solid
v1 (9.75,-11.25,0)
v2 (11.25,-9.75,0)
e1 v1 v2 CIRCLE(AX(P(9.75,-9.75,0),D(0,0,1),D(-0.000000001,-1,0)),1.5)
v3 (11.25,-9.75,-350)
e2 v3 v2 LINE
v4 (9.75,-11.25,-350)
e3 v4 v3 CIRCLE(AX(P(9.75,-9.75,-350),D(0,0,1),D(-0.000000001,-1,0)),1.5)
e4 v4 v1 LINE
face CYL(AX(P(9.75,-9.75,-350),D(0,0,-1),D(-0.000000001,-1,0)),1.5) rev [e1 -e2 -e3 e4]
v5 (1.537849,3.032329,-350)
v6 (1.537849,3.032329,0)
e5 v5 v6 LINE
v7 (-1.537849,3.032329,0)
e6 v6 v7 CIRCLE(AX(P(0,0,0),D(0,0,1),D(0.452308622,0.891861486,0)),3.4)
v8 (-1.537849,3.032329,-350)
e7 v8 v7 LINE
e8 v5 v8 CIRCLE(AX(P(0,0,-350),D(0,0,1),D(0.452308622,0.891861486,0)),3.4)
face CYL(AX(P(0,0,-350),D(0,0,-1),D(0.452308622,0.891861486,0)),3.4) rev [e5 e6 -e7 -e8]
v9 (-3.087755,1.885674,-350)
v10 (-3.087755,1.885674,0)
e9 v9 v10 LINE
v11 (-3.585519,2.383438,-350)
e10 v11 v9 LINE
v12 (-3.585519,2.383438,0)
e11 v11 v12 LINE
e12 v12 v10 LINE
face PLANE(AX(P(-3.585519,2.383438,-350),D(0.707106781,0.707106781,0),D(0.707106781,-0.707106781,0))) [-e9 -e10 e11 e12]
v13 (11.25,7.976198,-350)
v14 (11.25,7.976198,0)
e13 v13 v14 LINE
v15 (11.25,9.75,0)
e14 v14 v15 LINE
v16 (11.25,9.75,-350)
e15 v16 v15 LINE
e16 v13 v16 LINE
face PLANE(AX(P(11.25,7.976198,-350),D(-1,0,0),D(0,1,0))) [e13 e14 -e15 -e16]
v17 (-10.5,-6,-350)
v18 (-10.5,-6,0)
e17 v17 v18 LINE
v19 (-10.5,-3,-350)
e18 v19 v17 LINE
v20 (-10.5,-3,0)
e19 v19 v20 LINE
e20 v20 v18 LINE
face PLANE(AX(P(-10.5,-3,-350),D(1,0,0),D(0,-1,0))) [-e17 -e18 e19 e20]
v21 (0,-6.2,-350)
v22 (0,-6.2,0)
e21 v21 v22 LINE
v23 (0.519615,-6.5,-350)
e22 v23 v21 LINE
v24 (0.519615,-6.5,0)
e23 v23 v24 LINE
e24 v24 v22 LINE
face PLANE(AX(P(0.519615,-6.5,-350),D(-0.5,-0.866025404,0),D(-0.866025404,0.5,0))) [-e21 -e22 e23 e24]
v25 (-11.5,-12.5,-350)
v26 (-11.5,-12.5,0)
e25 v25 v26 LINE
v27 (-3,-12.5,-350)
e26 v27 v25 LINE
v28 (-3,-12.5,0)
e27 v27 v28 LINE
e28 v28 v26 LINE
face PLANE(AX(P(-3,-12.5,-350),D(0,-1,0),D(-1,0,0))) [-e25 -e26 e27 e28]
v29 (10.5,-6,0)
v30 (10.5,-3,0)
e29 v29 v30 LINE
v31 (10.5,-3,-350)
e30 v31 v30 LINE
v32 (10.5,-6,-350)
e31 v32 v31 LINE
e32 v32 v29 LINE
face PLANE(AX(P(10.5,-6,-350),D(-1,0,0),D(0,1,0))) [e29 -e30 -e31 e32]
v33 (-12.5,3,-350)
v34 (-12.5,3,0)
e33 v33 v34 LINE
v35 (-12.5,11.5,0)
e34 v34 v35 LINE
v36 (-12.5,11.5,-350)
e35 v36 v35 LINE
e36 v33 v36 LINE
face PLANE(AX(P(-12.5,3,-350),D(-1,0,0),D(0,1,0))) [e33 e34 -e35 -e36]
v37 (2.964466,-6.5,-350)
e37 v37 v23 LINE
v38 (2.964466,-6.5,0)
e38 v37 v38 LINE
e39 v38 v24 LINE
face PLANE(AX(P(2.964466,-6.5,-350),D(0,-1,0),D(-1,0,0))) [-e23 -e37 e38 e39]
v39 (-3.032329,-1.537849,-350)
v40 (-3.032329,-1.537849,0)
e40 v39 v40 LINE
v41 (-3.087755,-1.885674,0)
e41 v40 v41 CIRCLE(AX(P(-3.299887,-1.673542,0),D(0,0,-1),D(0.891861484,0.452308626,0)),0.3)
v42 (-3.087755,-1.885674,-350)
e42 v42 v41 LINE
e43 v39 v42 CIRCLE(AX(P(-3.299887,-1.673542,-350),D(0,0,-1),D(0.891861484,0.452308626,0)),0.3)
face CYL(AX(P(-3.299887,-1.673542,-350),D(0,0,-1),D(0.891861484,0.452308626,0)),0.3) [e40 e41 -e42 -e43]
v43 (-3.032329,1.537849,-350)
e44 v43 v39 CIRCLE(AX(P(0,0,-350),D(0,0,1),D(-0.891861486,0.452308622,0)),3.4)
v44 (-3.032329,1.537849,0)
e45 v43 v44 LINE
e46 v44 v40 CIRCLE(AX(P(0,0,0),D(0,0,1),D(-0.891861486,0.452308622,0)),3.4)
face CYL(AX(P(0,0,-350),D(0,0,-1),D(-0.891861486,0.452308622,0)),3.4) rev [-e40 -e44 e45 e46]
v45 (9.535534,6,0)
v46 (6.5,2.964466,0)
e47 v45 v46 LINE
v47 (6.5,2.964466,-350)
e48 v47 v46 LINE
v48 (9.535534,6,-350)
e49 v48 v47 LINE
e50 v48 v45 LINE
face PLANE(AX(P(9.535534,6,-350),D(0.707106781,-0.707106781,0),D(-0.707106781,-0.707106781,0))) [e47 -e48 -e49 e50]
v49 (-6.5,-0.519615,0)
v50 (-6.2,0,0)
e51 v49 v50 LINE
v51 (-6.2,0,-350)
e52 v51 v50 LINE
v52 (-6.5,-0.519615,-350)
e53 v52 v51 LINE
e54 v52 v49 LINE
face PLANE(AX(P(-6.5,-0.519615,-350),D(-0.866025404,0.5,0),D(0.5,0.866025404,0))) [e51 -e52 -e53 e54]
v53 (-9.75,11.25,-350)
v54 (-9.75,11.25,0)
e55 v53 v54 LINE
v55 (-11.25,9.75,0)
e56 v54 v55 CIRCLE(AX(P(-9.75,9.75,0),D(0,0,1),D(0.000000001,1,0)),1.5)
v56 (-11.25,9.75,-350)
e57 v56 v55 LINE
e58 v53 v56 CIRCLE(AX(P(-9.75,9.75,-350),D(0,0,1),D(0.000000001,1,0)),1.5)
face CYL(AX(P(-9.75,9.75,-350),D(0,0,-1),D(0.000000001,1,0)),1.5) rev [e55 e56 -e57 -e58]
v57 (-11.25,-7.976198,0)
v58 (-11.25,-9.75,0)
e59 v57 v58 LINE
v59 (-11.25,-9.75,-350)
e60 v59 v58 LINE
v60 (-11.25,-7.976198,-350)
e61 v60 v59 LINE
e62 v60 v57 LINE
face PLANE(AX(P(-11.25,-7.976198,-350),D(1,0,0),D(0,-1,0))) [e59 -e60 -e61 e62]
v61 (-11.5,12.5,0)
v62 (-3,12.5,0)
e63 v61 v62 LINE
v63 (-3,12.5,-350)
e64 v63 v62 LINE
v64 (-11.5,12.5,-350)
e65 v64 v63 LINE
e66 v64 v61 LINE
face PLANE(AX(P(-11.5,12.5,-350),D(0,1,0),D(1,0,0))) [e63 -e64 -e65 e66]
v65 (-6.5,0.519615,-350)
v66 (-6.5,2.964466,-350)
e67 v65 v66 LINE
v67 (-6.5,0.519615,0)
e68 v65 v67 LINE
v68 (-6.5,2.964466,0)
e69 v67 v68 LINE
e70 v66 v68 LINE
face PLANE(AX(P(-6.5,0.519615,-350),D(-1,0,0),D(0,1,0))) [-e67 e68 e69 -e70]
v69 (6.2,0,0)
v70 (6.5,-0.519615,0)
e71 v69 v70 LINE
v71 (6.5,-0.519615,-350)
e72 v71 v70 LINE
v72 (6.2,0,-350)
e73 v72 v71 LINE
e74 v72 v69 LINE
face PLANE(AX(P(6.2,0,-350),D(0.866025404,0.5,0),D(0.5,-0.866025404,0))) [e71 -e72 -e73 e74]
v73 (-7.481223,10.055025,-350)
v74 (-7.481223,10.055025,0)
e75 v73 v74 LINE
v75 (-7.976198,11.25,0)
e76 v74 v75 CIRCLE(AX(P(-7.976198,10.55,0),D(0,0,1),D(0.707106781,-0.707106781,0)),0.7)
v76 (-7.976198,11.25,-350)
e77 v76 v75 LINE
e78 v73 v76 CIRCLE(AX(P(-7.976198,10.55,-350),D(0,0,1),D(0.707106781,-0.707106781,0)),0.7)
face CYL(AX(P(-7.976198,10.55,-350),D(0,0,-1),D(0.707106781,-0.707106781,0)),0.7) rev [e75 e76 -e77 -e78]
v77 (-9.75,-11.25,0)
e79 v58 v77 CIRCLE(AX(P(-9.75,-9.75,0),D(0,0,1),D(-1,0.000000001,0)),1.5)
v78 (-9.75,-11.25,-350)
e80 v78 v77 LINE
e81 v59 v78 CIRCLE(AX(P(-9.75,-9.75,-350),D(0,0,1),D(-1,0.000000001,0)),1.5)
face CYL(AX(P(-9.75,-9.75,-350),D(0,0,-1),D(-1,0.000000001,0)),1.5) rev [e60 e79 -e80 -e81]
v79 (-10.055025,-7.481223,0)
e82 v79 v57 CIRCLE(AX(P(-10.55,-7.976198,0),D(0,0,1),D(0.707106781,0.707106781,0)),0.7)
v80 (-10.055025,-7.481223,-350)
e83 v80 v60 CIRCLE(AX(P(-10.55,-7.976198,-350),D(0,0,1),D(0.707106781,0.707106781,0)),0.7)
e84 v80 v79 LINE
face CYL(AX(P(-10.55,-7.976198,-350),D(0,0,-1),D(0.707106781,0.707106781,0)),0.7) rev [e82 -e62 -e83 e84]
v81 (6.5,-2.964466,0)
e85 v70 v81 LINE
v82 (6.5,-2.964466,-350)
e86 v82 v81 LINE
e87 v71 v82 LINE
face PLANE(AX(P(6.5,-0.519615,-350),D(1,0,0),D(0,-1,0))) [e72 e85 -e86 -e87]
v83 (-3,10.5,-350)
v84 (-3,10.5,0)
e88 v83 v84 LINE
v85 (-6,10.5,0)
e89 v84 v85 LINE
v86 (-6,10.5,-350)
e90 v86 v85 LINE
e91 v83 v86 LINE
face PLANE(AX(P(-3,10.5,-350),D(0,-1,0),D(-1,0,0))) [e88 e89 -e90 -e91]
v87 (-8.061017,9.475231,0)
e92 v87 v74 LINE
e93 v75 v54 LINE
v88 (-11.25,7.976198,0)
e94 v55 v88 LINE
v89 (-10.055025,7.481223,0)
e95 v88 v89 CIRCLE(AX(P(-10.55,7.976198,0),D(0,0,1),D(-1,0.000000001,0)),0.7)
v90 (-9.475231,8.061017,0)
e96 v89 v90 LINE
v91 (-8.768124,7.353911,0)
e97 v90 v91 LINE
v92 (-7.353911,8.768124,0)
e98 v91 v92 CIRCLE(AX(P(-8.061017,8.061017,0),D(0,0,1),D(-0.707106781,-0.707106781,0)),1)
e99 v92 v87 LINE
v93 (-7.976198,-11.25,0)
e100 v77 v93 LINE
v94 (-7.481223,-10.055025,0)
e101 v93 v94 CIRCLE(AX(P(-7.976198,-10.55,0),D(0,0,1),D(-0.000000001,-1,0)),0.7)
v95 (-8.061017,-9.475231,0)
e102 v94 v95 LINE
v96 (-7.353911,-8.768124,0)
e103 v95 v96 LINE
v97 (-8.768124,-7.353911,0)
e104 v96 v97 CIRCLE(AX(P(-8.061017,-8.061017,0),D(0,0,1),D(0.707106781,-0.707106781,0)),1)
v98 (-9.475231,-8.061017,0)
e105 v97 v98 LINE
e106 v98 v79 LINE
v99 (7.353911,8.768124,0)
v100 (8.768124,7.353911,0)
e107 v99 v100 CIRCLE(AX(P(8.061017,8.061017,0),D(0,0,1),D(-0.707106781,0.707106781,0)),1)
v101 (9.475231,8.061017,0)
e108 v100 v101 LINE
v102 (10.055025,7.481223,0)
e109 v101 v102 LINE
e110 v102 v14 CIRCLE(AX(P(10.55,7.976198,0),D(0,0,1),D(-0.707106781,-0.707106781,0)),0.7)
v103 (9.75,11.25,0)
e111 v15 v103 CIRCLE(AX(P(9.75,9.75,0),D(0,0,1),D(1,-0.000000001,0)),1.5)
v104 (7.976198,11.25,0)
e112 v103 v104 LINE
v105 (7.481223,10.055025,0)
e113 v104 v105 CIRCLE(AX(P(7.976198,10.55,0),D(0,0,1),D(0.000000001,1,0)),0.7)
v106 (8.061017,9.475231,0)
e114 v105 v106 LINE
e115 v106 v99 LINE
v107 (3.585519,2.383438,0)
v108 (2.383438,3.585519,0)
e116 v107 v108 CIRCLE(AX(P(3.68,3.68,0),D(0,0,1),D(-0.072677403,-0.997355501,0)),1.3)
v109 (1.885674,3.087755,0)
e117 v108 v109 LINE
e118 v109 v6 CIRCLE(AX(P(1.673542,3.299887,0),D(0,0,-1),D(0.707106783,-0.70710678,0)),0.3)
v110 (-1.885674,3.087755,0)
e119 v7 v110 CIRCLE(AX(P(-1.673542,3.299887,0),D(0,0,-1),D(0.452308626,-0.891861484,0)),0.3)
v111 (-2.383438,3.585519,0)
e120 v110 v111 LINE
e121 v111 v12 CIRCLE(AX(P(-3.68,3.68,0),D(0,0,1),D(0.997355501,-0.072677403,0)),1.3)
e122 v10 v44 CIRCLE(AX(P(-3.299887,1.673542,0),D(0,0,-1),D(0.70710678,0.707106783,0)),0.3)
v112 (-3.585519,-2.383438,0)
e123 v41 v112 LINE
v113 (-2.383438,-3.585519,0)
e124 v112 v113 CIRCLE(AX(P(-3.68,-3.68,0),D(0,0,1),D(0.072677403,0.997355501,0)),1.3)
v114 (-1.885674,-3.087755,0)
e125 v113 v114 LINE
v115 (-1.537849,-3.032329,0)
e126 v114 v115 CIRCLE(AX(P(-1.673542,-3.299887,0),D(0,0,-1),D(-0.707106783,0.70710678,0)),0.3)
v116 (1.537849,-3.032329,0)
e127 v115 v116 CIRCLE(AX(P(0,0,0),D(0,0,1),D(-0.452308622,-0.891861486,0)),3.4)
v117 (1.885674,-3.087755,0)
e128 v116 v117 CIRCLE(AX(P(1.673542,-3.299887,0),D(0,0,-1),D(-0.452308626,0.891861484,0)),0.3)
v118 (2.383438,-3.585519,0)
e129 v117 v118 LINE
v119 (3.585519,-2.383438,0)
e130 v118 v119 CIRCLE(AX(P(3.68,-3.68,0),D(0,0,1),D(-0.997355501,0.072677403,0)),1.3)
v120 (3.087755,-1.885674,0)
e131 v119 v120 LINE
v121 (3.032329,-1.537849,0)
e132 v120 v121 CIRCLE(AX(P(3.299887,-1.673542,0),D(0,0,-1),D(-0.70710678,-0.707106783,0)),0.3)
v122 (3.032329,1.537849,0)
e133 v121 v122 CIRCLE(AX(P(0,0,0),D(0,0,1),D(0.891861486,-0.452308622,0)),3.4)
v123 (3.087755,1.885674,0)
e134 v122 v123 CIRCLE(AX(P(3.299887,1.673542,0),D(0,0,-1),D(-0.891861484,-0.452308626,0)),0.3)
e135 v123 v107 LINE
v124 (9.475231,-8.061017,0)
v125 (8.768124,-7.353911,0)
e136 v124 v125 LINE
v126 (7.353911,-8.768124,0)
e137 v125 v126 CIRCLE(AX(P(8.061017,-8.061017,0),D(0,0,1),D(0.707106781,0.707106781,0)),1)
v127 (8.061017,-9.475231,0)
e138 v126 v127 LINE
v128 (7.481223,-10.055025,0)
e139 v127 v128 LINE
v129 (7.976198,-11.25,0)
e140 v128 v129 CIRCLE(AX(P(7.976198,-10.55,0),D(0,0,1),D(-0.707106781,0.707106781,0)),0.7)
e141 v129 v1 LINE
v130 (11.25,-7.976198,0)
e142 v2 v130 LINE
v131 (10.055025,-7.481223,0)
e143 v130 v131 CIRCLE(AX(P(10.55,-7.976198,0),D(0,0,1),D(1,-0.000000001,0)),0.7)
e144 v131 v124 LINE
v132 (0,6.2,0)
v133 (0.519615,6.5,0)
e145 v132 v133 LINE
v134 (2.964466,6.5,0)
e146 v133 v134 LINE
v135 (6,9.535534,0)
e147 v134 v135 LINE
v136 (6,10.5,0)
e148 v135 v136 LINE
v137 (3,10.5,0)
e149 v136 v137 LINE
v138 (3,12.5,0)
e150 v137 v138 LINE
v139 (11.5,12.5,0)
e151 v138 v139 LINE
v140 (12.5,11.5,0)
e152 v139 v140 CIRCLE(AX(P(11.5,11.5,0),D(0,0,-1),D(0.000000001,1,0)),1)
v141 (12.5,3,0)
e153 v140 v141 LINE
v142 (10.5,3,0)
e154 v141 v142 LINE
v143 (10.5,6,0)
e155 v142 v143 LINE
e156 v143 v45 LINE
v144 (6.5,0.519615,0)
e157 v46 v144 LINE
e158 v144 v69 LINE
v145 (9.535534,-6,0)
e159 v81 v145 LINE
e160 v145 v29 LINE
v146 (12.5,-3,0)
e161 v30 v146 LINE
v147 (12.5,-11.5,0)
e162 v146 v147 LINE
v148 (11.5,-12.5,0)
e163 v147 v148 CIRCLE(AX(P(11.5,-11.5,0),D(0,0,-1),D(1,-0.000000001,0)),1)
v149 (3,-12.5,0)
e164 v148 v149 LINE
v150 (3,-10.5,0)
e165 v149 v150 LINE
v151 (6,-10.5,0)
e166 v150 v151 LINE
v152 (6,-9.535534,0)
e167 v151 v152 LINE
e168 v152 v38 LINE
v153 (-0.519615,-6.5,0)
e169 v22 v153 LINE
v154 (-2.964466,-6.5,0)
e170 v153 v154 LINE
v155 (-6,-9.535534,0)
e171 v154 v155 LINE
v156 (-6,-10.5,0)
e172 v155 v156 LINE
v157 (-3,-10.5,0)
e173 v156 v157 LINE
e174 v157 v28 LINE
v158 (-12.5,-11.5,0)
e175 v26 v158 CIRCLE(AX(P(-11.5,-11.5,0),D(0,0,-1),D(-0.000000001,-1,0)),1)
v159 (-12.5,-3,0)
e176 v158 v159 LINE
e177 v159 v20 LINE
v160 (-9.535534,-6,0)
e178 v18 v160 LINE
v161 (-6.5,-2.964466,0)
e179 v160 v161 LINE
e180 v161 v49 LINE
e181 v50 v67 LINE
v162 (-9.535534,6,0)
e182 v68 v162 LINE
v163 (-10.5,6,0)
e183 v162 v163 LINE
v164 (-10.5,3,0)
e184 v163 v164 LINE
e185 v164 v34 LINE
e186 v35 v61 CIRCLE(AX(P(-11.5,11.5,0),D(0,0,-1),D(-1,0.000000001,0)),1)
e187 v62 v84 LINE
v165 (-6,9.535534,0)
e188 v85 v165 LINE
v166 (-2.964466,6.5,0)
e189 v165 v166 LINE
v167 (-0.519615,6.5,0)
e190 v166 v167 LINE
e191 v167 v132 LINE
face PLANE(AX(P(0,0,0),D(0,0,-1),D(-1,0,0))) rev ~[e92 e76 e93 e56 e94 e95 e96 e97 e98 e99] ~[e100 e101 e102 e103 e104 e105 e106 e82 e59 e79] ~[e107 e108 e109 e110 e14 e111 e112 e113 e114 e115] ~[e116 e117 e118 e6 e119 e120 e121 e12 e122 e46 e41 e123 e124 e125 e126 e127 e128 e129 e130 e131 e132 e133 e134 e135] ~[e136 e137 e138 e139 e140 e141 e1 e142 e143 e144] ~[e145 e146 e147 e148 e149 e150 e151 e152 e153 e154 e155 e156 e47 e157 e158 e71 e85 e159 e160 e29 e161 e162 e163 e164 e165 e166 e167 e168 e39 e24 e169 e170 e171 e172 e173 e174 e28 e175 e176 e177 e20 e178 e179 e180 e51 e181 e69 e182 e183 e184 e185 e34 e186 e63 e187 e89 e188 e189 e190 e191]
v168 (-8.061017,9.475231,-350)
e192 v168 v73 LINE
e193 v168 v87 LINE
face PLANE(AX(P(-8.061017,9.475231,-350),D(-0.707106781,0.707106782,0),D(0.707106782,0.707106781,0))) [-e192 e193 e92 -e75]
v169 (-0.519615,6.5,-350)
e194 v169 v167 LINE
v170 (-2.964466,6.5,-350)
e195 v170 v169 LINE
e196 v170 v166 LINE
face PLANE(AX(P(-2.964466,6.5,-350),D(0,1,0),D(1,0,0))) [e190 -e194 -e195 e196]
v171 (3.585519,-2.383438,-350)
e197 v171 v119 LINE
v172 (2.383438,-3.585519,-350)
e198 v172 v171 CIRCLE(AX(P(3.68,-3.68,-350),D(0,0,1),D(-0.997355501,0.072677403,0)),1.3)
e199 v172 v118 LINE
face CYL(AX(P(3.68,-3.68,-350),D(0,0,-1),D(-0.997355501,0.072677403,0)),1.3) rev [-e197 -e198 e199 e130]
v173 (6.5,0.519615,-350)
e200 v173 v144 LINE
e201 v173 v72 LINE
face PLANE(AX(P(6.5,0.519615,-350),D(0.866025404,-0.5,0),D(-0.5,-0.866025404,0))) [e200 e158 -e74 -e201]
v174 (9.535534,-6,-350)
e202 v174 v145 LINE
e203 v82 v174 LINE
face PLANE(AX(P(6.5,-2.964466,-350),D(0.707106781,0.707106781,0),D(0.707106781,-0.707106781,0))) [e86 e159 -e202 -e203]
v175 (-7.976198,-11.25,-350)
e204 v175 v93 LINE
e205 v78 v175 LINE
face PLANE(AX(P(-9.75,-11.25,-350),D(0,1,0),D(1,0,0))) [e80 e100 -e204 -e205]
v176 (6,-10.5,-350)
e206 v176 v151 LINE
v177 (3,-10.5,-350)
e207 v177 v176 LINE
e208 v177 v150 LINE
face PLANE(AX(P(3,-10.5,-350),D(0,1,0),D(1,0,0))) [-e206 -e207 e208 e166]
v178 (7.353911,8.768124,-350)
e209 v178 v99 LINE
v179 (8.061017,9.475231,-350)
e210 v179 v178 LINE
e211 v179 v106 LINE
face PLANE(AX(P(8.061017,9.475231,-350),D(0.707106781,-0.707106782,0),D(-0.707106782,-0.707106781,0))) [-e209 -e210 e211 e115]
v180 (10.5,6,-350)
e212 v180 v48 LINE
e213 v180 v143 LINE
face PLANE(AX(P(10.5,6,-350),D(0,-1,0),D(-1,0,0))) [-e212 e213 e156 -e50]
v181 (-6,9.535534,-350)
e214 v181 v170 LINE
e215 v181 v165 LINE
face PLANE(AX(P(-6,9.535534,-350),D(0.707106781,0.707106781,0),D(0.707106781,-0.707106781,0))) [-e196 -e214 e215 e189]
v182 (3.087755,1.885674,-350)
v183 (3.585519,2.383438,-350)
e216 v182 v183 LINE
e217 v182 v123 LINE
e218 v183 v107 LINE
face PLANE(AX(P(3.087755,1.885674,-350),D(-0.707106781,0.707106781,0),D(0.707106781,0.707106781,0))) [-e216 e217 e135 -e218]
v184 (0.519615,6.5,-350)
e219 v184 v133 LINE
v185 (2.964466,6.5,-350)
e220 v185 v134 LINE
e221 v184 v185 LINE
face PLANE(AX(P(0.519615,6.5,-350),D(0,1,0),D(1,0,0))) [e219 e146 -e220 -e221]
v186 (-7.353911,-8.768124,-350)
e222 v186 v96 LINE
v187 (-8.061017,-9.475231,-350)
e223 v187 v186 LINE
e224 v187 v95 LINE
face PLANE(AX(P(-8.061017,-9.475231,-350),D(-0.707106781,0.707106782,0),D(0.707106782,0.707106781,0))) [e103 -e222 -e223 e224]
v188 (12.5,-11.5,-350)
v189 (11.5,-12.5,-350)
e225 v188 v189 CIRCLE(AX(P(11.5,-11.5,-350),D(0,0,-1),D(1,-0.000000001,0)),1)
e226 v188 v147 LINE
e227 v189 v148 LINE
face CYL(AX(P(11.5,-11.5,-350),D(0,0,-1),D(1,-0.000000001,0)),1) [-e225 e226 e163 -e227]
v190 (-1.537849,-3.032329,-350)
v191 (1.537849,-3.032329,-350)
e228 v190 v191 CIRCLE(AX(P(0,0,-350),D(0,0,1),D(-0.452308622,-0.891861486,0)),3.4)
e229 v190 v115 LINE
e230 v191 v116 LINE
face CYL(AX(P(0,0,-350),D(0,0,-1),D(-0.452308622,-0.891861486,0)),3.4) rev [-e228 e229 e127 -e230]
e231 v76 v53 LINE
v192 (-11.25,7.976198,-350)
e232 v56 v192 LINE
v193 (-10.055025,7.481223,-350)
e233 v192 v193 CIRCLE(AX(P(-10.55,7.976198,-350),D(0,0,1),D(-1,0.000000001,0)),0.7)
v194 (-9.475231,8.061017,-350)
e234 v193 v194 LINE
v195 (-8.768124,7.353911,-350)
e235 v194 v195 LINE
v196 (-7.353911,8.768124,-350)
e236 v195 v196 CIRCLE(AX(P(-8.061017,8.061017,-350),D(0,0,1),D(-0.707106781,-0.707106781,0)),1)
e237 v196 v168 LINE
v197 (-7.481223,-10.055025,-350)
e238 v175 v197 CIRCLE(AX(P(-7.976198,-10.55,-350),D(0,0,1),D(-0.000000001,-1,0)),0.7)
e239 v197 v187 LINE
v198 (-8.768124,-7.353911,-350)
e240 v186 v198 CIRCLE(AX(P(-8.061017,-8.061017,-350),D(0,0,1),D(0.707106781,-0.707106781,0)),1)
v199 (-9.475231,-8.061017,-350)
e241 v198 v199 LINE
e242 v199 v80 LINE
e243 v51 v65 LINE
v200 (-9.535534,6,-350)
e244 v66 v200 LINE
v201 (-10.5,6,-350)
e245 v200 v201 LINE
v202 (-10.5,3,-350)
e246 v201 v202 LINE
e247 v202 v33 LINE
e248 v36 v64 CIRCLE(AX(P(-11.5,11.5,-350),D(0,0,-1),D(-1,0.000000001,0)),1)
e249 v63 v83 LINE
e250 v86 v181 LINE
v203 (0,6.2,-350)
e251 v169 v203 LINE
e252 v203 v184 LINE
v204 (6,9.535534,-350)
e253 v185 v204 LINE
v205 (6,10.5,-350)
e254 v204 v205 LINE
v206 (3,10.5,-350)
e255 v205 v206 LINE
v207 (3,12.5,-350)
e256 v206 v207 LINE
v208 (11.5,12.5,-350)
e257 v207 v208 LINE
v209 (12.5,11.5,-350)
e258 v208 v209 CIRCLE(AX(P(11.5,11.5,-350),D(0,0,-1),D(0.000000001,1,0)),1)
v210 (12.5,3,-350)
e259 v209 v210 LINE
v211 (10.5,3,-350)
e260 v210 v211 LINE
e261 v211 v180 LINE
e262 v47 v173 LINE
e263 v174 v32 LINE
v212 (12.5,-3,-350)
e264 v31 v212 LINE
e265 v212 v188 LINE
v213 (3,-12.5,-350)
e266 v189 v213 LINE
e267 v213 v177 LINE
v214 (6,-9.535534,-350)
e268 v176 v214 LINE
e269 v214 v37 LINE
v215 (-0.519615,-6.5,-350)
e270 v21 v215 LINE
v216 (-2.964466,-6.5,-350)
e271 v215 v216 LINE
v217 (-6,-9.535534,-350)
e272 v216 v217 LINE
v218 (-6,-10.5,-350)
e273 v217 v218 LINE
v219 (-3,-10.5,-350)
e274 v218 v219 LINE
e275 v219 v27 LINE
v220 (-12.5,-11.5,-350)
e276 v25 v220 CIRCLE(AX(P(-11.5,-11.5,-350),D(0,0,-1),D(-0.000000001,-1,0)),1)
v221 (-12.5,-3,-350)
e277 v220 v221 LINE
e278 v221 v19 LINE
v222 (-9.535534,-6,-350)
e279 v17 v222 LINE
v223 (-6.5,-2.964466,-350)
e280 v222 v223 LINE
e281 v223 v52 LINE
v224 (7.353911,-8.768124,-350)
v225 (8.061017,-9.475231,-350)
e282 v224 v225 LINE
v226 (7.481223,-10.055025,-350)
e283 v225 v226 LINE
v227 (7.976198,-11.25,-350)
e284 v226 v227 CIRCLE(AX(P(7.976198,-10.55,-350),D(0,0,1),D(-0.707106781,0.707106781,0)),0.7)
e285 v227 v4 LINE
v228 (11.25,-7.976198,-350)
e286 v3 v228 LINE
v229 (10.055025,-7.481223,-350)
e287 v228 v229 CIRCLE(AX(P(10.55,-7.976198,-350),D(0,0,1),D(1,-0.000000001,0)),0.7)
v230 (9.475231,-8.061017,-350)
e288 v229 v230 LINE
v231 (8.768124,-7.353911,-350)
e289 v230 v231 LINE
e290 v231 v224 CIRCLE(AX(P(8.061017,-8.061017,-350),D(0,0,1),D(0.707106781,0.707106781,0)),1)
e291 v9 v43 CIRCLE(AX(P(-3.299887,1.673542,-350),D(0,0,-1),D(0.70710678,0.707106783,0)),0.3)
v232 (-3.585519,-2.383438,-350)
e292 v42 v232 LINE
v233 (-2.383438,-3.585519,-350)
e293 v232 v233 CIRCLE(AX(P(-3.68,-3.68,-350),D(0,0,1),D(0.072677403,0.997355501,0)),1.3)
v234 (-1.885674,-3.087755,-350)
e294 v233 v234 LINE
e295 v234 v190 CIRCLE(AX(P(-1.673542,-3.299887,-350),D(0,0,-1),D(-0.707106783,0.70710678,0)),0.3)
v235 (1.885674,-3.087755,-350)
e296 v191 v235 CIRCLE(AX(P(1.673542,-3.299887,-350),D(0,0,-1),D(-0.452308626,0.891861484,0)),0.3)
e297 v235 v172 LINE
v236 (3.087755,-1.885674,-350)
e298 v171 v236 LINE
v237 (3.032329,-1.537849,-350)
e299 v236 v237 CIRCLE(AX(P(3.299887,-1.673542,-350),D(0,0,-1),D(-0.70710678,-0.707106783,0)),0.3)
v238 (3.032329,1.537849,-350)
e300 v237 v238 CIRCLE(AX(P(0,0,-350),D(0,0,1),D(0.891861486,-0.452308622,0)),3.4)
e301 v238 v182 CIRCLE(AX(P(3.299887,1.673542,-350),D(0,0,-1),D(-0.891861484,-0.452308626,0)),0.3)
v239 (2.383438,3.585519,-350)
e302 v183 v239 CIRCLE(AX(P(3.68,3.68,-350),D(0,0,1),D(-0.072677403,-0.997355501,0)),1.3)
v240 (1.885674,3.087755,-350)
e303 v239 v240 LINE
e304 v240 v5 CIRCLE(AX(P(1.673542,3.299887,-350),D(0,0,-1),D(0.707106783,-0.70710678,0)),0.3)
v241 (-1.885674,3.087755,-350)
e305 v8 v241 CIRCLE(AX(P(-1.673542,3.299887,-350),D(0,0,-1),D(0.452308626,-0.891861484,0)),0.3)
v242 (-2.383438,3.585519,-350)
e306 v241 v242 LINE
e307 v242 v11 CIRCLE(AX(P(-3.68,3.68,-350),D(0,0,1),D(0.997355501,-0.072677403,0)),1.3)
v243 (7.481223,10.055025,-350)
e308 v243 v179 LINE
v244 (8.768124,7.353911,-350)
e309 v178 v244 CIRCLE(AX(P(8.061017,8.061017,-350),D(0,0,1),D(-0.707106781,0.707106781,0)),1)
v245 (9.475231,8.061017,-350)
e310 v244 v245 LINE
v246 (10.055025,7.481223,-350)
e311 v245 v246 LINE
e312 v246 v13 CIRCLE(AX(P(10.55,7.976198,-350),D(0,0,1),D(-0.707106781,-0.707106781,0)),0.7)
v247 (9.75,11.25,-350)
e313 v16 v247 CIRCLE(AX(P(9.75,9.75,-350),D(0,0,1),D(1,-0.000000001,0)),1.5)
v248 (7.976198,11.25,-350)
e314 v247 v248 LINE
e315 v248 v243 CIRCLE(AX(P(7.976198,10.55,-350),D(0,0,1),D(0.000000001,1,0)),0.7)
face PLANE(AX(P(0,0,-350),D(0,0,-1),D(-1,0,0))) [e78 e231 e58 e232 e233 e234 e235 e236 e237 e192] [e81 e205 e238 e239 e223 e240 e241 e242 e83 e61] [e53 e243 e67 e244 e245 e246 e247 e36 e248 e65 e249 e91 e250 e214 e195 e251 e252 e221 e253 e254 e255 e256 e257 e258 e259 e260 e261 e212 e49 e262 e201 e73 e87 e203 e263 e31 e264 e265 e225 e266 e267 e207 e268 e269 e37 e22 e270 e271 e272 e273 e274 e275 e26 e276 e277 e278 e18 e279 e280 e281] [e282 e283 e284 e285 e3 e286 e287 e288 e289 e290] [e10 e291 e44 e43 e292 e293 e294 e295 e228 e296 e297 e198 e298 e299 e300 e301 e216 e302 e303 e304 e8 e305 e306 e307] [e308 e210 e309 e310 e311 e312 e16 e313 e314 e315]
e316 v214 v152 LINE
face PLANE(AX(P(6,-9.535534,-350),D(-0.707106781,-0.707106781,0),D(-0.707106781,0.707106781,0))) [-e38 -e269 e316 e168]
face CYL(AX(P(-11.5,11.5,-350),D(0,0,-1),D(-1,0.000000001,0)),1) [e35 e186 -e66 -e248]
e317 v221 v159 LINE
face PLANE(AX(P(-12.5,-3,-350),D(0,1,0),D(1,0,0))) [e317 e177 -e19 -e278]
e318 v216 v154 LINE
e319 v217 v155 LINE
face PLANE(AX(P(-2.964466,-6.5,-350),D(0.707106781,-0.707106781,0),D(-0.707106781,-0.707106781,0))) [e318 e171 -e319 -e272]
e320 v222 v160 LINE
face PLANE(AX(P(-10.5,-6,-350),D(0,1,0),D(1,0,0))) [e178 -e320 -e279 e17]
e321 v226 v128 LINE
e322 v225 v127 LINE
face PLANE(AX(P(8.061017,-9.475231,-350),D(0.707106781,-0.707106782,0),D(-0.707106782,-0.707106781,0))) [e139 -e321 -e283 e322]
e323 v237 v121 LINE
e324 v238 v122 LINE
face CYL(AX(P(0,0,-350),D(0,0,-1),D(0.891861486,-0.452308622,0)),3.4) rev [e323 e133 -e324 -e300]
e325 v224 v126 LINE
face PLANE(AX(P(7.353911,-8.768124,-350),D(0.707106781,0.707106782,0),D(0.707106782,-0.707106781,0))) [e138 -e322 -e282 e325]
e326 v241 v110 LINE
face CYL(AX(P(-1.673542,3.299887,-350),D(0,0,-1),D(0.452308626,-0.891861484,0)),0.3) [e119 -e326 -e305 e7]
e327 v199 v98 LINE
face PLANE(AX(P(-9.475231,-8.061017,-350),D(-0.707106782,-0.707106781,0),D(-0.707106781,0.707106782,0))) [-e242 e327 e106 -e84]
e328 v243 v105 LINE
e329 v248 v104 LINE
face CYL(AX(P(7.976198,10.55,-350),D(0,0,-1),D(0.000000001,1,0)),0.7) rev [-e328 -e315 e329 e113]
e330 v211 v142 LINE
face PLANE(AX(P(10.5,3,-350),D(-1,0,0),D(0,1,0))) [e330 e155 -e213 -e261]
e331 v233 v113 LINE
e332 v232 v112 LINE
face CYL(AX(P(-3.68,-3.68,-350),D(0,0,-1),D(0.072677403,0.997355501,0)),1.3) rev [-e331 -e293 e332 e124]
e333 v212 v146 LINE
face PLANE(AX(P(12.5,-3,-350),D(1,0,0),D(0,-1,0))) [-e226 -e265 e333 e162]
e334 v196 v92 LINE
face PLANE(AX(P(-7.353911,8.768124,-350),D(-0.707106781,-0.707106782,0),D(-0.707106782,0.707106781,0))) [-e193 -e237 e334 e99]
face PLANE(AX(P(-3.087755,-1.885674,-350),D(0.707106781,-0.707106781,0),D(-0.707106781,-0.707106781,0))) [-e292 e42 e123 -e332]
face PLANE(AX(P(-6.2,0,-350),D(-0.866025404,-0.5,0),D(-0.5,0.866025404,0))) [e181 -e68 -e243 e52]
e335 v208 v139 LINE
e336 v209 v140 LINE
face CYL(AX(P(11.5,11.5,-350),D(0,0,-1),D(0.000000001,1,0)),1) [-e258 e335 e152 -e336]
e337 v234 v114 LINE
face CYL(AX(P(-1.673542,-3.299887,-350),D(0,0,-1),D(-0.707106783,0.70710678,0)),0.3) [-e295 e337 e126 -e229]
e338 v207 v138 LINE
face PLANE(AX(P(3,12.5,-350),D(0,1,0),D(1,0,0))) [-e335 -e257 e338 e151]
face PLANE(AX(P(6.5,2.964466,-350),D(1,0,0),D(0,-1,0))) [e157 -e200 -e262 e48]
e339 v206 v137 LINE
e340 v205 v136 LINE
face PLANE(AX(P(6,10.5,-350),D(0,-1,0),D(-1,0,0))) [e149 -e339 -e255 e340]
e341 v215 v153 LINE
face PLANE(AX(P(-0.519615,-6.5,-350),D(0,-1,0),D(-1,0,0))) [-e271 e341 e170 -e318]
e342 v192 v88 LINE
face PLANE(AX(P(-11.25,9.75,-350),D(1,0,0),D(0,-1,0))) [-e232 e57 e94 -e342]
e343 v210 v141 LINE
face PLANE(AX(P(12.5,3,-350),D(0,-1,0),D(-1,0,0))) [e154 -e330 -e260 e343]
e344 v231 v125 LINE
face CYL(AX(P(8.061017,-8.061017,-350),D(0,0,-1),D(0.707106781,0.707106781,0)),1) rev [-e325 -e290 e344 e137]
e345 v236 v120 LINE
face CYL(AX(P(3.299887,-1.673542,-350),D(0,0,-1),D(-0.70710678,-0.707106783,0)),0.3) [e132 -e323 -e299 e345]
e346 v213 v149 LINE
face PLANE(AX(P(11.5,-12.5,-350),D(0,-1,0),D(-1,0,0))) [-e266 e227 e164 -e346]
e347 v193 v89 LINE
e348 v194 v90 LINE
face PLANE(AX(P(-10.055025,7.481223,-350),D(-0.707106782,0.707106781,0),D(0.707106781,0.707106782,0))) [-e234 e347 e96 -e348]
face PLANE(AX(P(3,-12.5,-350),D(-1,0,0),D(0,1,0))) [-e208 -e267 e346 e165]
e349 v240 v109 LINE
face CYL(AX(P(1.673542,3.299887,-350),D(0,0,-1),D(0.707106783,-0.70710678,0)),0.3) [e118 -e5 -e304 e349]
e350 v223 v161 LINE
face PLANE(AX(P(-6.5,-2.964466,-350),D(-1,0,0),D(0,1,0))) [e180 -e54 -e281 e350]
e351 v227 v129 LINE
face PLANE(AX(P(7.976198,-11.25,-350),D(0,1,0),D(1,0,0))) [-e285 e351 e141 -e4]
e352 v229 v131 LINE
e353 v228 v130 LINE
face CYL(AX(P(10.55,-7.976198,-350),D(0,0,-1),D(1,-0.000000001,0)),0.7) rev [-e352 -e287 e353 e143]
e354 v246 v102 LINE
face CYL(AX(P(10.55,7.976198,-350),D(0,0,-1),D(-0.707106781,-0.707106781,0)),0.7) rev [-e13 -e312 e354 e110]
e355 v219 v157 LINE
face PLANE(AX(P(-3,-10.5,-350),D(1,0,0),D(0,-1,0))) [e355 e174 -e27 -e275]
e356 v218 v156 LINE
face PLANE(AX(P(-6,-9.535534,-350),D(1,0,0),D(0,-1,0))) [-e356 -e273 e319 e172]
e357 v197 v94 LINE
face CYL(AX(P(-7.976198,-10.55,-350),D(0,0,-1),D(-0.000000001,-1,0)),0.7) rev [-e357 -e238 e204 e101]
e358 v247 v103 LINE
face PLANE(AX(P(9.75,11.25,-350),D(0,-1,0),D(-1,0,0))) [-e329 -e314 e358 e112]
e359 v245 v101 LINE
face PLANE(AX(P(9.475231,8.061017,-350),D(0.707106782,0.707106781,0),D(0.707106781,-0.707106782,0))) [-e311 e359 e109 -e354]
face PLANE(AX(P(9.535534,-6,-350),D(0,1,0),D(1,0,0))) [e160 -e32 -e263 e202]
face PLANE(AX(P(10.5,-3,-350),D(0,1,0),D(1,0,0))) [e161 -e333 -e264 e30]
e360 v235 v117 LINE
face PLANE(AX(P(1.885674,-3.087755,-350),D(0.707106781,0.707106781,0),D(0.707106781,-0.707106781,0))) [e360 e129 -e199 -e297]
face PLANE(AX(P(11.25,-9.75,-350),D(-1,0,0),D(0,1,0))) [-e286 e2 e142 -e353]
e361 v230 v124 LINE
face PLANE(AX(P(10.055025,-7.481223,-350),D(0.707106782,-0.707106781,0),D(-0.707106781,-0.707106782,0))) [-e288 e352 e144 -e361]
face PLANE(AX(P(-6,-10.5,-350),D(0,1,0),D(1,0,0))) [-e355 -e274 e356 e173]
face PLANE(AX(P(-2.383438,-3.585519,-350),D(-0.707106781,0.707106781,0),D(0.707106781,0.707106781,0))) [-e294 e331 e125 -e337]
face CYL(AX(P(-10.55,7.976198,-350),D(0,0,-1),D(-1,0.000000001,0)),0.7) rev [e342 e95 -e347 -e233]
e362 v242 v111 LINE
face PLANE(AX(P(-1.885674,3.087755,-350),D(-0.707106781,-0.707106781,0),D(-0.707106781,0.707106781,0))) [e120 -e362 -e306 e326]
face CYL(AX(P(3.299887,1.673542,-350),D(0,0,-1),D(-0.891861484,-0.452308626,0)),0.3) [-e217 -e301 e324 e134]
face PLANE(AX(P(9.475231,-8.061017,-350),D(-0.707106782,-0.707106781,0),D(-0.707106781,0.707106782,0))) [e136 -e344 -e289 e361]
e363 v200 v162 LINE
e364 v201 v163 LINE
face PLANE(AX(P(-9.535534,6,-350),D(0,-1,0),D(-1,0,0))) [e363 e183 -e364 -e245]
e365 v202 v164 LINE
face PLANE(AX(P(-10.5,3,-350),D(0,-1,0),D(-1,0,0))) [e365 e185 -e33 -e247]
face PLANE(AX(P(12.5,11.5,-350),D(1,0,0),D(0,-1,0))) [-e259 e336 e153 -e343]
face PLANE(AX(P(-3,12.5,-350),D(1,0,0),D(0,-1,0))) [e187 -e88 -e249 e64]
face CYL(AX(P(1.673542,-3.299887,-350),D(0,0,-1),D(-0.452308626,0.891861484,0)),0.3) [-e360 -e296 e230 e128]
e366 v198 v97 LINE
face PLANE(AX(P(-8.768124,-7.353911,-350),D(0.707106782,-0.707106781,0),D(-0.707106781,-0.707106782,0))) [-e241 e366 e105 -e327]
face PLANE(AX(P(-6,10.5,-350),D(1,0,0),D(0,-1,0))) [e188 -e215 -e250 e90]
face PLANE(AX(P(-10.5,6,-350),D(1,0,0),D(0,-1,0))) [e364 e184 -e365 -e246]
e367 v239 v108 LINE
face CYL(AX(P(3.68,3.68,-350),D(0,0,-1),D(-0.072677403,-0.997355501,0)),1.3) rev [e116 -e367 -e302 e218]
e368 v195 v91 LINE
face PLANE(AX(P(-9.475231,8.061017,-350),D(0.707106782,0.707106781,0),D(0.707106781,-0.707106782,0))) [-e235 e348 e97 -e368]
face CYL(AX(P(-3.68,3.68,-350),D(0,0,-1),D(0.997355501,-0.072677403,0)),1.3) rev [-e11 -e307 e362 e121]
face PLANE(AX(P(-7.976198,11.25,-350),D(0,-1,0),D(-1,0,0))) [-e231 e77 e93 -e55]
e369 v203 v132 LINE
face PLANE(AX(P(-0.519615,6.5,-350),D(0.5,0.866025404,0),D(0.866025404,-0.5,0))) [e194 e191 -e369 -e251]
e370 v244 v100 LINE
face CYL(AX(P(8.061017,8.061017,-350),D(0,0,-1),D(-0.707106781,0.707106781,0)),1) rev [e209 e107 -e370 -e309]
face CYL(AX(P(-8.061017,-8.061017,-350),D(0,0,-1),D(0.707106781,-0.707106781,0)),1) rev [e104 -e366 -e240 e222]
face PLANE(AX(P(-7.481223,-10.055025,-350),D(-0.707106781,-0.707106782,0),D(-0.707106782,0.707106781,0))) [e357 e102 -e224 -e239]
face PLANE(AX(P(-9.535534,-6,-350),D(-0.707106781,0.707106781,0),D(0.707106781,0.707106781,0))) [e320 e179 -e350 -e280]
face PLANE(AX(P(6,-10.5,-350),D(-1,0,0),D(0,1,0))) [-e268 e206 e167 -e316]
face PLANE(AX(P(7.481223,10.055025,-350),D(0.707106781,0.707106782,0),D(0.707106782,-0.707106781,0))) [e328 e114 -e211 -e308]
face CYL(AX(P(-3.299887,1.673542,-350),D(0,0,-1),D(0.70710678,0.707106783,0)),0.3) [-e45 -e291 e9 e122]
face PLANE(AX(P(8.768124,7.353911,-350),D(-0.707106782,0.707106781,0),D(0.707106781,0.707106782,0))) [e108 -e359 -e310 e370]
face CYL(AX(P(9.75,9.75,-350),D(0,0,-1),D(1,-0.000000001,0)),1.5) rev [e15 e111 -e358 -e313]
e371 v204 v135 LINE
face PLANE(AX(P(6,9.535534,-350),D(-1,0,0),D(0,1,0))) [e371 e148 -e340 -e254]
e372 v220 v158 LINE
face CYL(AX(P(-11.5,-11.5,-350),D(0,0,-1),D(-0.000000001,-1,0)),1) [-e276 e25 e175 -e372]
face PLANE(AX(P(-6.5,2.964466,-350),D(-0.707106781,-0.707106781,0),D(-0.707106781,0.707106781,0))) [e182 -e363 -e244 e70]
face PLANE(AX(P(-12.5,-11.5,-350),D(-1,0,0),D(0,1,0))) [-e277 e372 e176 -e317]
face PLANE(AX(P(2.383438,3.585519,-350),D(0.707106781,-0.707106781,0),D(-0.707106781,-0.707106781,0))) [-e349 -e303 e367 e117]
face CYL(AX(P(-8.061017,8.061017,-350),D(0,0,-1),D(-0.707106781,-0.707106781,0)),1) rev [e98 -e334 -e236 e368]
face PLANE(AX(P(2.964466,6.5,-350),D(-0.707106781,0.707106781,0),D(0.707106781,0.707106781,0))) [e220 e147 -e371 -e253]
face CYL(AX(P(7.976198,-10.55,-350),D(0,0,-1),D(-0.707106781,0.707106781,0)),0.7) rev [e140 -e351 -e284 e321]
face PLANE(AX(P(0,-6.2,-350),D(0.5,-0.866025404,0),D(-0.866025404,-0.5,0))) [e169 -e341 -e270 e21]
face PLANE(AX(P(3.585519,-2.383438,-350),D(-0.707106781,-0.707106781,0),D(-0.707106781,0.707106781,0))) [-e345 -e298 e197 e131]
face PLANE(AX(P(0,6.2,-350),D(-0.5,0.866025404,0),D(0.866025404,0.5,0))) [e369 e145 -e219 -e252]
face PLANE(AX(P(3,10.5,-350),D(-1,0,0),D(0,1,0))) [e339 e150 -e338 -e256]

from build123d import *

# Parameters (mm, degrees)
BOSS_EXTRUDE1_DEPTH = 350


with BuildPart() as part:
    # Sketch1 → Boss-Extrude1 (new body)
    with BuildSketch(Plane(origin=(0, 0, -350), x_dir=(-1, 0, 0), z_dir=(0, 0, -1))):
        with BuildLine():
            Line((12.5, -3), (10.5, -3))
            Line((10.5, -3), (10.5, -6))
            Line((10.5, -6), (9.535533906, -6))
            Line((9.535533906, -6), (6.5, -2.964466094))
            Line((6.5, -2.964466094), (6.5, -0.519615242))
            Line((6.5, -0.519615242), (6.2, 0))
            Line((6.2, 0), (6.5, 0.519615242))
            Line((6.5, 0.519615242), (6.5, 2.964466094))
            Line((6.5, 2.964466094), (9.535533906, 6))
            Line((9.535533906, 6), (10.5, 6))
            Line((10.5, 6), (10.5, 3))
            Line((10.5, 3), (12.5, 3))
            Line((12.5, 3), (12.5, 11.5))
            ThreePointArc((12.5, 11.5), (12.207106781, 12.207106781), (11.5, 12.5))
            Line((11.5, 12.5), (3, 12.5))
            Line((3, 12.5), (3, 10.5))
            Line((3, 10.5), (6, 10.5))
            Line((6, 10.5), (6, 9.535533906))
            Line((6, 9.535533906), (2.964466094, 6.5))
            Line((2.964466094, 6.5), (0.519615242, 6.5))
            Line((0.519615242, 6.5), (0, 6.2))
            Line((0, 6.2), (-0.519615242, 6.5))
            Line((-0.519615242, 6.5), (-2.964466094, 6.5))
            Line((-2.964466094, 6.5), (-6, 9.535533906))
            Line((-6, 9.535533906), (-6, 10.5))
            Line((-6, 10.5), (-3, 10.5))
            Line((-3, 10.5), (-3, 12.5))
            Line((-3, 12.5), (-11.5, 12.5))
            ThreePointArc((-11.5, 12.5), (-12.207106781, 12.207106781), (-12.5, 11.5))
            Line((-12.5, 11.5), (-12.5, 3))
            Line((-12.5, 3), (-10.5, 3))
            Line((-10.5, 3), (-10.5, 6))
            Line((-10.5, 6), (-9.535533906, 6))
            Line((-9.535533906, 6), (-6.5, 2.964466094))
            Line((-6.5, 2.964466094), (-6.5, 0.519615242))
            Line((-6.5, 0.519615242), (-6.2, 0))
            Line((-6.2, 0), (-6.5, -0.519615242))
            Line((-6.5, -0.519615242), (-6.5, -2.964466094))
            Line((-6.5, -2.964466094), (-9.535533906, -6))
            Line((-9.535533906, -6), (-10.5, -6))
            Line((-10.5, -6), (-10.5, -3))
            Line((-10.5, -3), (-12.5, -3))
            Line((-12.5, -3), (-12.5, -11.5))
            ThreePointArc((-12.5, -11.5), (-12.207106781, -12.207106781), (-11.5, -12.5))
            Line((-11.5, -12.5), (-3, -12.5))
            Line((-3, -12.5), (-3, -10.5))
            Line((-3, -10.5), (-6, -10.5))
            Line((-6, -10.5), (-6, -9.535533906))
            Line((-6, -9.535533906), (-2.964466094, -6.5))
            Line((-2.964466094, -6.5), (-0.519615242, -6.5))
            Line((-0.519615242, -6.5), (0, -6.2))
            Line((0, -6.2), (0.519615242, -6.5))
            Line((0.519615242, -6.5), (2.964466094, -6.5))
            Line((2.964466094, -6.5), (6, -9.535533906))
            Line((6, -9.535533906), (6, -10.5))
            Line((6, -10.5), (3, -10.5))
            Line((3, -10.5), (3, -12.5))
            Line((3, -12.5), (11.5, -12.5))
            ThreePointArc((11.5, -12.5), (12.207106781, -12.207106781), (12.5, -11.5))
            Line((12.5, -11.5), (12.5, -3))
        make_face()
        with BuildLine():
            Line((3.087755464, -1.885673936), (3.585519377, -2.383437849))
            ThreePointArc((3.585519377, -2.383437849), (4.599238816, -4.599238816), (2.383437849, -3.585519377))
            Line((2.383437849, -3.585519377), (1.885673936, -3.087755464))
            ThreePointArc((1.885673936, -3.087755464), (1.720751743, -3.0036254), (1.537849315, -3.032329053))
            ThreePointArc((1.537849315, -3.032329053), (0, -3.4), (-1.537849315, -3.032329053))
            ThreePointArc((-1.537849315, -3.032329053), (-1.720751743, -3.0036254), (-1.885673936, -3.087755464))
            Line((-1.885673936, -3.087755464), (-2.383437849, -3.585519377))
            ThreePointArc((-2.383437849, -3.585519377), (-4.599238816, -4.599238816), (-3.585519377, -2.383437849))
            Line((-3.585519377, -2.383437849), (-3.087755464, -1.885673936))
            ThreePointArc((-3.087755464, -1.885673936), (-3.0036254, -1.720751743), (-3.032329053, -1.537849315))
            ThreePointArc((-3.032329053, -1.537849315), (-3.4, 0), (-3.032329053, 1.537849315))
            ThreePointArc((-3.032329053, 1.537849315), (-3.0036254, 1.720751743), (-3.087755464, 1.885673936))
            Line((-3.087755464, 1.885673936), (-3.585519377, 2.383437849))
            ThreePointArc((-3.585519377, 2.383437849), (-4.599238816, 4.599238816), (-2.383437849, 3.585519377))
            Line((-2.383437849, 3.585519377), (-1.885673936, 3.087755464))
            ThreePointArc((-1.885673936, 3.087755464), (-1.720751743, 3.0036254), (-1.537849315, 3.032329053))
            ThreePointArc((-1.537849315, 3.032329053), (0, 3.4), (1.537849315, 3.032329053))
            ThreePointArc((1.537849315, 3.032329053), (1.720751743, 3.0036254), (1.885673936, 3.087755464))
            Line((1.885673936, 3.087755464), (2.383437849, 3.585519377))
            ThreePointArc((2.383437849, 3.585519377), (4.599238816, 4.599238816), (3.585519377, 2.383437849))
            Line((3.585519377, 2.383437849), (3.087755464, 1.885673936))
            ThreePointArc((3.087755464, 1.885673936), (3.0036254, 1.720751743), (3.032329053, 1.537849315))
            ThreePointArc((3.032329053, 1.537849315), (3.4, 0), (3.032329053, -1.537849315))
            ThreePointArc((3.032329053, -1.537849315), (3.0036254, -1.720751743), (3.087755464, -1.885673936))
        make_face(mode=Mode.SUBTRACT)
        with BuildLine():
            Line((11.25, -7.976197667), (11.25, -9.75))
            ThreePointArc((11.25, -9.75), (10.810660172, -10.810660172), (9.75, -11.25))
            Line((9.75, -11.25), (7.976197667, -11.25))
            ThreePointArc((7.976197667, -11.25), (7.329481994, -10.817878403), (7.48122292, -10.055025253))
            Line((7.48122292, -10.055025253), (8.061017306, -9.475230868))
            Line((8.061017306, -9.475230868), (7.353910524, -8.768124087))
            ThreePointArc((7.353910524, -8.768124087), (7.353910524, -7.353910524), (8.768124087, -7.353910524))
            Line((8.768124087, -7.353910524), (9.475230868, -8.061017306))
            Line((9.475230868, -8.061017306), (10.055025253, -7.48122292))
            ThreePointArc((10.055025253, -7.48122292), (10.817878403, -7.329481994), (11.25, -7.976197667))
        make_face(mode=Mode.SUBTRACT)
        with BuildLine():
            Line((-8.061017306, 9.475230868), (-7.353910524, 8.768124087))
            ThreePointArc((-7.353910524, 8.768124087), (-7.353910524, 7.353910524), (-8.768124087, 7.353910524))
            Line((-8.768124087, 7.353910524), (-9.475230868, 8.061017306))
            Line((-9.475230868, 8.061017306), (-10.055025253, 7.48122292))
            ThreePointArc((-10.055025253, 7.48122292), (-10.817878403, 7.329481994), (-11.25, 7.976197667))
            Line((-11.25, 7.976197667), (-11.25, 9.75))
            ThreePointArc((-11.25, 9.75), (-10.810660172, 10.810660172), (-9.75, 11.25))
            Line((-9.75, 11.25), (-7.976197667, 11.25))
            ThreePointArc((-7.976197667, 11.25), (-7.329481994, 10.817878403), (-7.48122292, 10.055025253))
            Line((-7.48122292, 10.055025253), (-8.061017306, 9.475230868))
        make_face(mode=Mode.SUBTRACT)
        with BuildLine():
            Line((-9.475230868, -8.061017306), (-8.768124087, -7.353910524))
            ThreePointArc((-8.768124087, -7.353910524), (-7.353910524, -7.353910524), (-7.353910524, -8.768124087))
            Line((-7.353910524, -8.768124087), (-8.061017306, -9.475230868))
            Line((-8.061017306, -9.475230868), (-7.48122292, -10.055025253))
            ThreePointArc((-7.48122292, -10.055025253), (-7.329481994, -10.817878403), (-7.976197667, -11.25))
            Line((-7.976197667, -11.25), (-9.75, -11.25))
            ThreePointArc((-9.75, -11.25), (-10.810660172, -10.810660172), (-11.25, -9.75))
            Line((-11.25, -9.75), (-11.25, -7.976197667))
            ThreePointArc((-11.25, -7.976197667), (-10.817878403, -7.329481994), (-10.055025253, -7.48122292))
            Line((-10.055025253, -7.48122292), (-9.475230868, -8.061017306))
        make_face(mode=Mode.SUBTRACT)
        with BuildLine():
            Line((11.25, 9.75), (11.25, 7.976197667))
            ThreePointArc((11.25, 7.976197667), (10.817878403, 7.329481994), (10.055025253, 7.48122292))
            Line((10.055025253, 7.48122292), (9.475230868, 8.061017306))
            Line((9.475230868, 8.061017306), (8.768124087, 7.353910524))
            ThreePointArc((8.768124087, 7.353910524), (7.353910524, 7.353910524), (7.353910524, 8.768124087))
            Line((7.353910524, 8.768124087), (8.061017306, 9.475230868))
            Line((8.061017306, 9.475230868), (7.48122292, 10.055025253))
            ThreePointArc((7.48122292, 10.055025253), (7.329481994, 10.817878403), (7.976197667, 11.25))
            Line((7.976197667, 11.25), (9.75, 11.25))
            ThreePointArc((9.75, 11.25), (10.810660172, 10.810660172), (11.25, 9.75))
        make_face(mode=Mode.SUBTRACT)
    extrude(amount=-BOSS_EXTRUDE1_DEPTH)


solid = part.part
